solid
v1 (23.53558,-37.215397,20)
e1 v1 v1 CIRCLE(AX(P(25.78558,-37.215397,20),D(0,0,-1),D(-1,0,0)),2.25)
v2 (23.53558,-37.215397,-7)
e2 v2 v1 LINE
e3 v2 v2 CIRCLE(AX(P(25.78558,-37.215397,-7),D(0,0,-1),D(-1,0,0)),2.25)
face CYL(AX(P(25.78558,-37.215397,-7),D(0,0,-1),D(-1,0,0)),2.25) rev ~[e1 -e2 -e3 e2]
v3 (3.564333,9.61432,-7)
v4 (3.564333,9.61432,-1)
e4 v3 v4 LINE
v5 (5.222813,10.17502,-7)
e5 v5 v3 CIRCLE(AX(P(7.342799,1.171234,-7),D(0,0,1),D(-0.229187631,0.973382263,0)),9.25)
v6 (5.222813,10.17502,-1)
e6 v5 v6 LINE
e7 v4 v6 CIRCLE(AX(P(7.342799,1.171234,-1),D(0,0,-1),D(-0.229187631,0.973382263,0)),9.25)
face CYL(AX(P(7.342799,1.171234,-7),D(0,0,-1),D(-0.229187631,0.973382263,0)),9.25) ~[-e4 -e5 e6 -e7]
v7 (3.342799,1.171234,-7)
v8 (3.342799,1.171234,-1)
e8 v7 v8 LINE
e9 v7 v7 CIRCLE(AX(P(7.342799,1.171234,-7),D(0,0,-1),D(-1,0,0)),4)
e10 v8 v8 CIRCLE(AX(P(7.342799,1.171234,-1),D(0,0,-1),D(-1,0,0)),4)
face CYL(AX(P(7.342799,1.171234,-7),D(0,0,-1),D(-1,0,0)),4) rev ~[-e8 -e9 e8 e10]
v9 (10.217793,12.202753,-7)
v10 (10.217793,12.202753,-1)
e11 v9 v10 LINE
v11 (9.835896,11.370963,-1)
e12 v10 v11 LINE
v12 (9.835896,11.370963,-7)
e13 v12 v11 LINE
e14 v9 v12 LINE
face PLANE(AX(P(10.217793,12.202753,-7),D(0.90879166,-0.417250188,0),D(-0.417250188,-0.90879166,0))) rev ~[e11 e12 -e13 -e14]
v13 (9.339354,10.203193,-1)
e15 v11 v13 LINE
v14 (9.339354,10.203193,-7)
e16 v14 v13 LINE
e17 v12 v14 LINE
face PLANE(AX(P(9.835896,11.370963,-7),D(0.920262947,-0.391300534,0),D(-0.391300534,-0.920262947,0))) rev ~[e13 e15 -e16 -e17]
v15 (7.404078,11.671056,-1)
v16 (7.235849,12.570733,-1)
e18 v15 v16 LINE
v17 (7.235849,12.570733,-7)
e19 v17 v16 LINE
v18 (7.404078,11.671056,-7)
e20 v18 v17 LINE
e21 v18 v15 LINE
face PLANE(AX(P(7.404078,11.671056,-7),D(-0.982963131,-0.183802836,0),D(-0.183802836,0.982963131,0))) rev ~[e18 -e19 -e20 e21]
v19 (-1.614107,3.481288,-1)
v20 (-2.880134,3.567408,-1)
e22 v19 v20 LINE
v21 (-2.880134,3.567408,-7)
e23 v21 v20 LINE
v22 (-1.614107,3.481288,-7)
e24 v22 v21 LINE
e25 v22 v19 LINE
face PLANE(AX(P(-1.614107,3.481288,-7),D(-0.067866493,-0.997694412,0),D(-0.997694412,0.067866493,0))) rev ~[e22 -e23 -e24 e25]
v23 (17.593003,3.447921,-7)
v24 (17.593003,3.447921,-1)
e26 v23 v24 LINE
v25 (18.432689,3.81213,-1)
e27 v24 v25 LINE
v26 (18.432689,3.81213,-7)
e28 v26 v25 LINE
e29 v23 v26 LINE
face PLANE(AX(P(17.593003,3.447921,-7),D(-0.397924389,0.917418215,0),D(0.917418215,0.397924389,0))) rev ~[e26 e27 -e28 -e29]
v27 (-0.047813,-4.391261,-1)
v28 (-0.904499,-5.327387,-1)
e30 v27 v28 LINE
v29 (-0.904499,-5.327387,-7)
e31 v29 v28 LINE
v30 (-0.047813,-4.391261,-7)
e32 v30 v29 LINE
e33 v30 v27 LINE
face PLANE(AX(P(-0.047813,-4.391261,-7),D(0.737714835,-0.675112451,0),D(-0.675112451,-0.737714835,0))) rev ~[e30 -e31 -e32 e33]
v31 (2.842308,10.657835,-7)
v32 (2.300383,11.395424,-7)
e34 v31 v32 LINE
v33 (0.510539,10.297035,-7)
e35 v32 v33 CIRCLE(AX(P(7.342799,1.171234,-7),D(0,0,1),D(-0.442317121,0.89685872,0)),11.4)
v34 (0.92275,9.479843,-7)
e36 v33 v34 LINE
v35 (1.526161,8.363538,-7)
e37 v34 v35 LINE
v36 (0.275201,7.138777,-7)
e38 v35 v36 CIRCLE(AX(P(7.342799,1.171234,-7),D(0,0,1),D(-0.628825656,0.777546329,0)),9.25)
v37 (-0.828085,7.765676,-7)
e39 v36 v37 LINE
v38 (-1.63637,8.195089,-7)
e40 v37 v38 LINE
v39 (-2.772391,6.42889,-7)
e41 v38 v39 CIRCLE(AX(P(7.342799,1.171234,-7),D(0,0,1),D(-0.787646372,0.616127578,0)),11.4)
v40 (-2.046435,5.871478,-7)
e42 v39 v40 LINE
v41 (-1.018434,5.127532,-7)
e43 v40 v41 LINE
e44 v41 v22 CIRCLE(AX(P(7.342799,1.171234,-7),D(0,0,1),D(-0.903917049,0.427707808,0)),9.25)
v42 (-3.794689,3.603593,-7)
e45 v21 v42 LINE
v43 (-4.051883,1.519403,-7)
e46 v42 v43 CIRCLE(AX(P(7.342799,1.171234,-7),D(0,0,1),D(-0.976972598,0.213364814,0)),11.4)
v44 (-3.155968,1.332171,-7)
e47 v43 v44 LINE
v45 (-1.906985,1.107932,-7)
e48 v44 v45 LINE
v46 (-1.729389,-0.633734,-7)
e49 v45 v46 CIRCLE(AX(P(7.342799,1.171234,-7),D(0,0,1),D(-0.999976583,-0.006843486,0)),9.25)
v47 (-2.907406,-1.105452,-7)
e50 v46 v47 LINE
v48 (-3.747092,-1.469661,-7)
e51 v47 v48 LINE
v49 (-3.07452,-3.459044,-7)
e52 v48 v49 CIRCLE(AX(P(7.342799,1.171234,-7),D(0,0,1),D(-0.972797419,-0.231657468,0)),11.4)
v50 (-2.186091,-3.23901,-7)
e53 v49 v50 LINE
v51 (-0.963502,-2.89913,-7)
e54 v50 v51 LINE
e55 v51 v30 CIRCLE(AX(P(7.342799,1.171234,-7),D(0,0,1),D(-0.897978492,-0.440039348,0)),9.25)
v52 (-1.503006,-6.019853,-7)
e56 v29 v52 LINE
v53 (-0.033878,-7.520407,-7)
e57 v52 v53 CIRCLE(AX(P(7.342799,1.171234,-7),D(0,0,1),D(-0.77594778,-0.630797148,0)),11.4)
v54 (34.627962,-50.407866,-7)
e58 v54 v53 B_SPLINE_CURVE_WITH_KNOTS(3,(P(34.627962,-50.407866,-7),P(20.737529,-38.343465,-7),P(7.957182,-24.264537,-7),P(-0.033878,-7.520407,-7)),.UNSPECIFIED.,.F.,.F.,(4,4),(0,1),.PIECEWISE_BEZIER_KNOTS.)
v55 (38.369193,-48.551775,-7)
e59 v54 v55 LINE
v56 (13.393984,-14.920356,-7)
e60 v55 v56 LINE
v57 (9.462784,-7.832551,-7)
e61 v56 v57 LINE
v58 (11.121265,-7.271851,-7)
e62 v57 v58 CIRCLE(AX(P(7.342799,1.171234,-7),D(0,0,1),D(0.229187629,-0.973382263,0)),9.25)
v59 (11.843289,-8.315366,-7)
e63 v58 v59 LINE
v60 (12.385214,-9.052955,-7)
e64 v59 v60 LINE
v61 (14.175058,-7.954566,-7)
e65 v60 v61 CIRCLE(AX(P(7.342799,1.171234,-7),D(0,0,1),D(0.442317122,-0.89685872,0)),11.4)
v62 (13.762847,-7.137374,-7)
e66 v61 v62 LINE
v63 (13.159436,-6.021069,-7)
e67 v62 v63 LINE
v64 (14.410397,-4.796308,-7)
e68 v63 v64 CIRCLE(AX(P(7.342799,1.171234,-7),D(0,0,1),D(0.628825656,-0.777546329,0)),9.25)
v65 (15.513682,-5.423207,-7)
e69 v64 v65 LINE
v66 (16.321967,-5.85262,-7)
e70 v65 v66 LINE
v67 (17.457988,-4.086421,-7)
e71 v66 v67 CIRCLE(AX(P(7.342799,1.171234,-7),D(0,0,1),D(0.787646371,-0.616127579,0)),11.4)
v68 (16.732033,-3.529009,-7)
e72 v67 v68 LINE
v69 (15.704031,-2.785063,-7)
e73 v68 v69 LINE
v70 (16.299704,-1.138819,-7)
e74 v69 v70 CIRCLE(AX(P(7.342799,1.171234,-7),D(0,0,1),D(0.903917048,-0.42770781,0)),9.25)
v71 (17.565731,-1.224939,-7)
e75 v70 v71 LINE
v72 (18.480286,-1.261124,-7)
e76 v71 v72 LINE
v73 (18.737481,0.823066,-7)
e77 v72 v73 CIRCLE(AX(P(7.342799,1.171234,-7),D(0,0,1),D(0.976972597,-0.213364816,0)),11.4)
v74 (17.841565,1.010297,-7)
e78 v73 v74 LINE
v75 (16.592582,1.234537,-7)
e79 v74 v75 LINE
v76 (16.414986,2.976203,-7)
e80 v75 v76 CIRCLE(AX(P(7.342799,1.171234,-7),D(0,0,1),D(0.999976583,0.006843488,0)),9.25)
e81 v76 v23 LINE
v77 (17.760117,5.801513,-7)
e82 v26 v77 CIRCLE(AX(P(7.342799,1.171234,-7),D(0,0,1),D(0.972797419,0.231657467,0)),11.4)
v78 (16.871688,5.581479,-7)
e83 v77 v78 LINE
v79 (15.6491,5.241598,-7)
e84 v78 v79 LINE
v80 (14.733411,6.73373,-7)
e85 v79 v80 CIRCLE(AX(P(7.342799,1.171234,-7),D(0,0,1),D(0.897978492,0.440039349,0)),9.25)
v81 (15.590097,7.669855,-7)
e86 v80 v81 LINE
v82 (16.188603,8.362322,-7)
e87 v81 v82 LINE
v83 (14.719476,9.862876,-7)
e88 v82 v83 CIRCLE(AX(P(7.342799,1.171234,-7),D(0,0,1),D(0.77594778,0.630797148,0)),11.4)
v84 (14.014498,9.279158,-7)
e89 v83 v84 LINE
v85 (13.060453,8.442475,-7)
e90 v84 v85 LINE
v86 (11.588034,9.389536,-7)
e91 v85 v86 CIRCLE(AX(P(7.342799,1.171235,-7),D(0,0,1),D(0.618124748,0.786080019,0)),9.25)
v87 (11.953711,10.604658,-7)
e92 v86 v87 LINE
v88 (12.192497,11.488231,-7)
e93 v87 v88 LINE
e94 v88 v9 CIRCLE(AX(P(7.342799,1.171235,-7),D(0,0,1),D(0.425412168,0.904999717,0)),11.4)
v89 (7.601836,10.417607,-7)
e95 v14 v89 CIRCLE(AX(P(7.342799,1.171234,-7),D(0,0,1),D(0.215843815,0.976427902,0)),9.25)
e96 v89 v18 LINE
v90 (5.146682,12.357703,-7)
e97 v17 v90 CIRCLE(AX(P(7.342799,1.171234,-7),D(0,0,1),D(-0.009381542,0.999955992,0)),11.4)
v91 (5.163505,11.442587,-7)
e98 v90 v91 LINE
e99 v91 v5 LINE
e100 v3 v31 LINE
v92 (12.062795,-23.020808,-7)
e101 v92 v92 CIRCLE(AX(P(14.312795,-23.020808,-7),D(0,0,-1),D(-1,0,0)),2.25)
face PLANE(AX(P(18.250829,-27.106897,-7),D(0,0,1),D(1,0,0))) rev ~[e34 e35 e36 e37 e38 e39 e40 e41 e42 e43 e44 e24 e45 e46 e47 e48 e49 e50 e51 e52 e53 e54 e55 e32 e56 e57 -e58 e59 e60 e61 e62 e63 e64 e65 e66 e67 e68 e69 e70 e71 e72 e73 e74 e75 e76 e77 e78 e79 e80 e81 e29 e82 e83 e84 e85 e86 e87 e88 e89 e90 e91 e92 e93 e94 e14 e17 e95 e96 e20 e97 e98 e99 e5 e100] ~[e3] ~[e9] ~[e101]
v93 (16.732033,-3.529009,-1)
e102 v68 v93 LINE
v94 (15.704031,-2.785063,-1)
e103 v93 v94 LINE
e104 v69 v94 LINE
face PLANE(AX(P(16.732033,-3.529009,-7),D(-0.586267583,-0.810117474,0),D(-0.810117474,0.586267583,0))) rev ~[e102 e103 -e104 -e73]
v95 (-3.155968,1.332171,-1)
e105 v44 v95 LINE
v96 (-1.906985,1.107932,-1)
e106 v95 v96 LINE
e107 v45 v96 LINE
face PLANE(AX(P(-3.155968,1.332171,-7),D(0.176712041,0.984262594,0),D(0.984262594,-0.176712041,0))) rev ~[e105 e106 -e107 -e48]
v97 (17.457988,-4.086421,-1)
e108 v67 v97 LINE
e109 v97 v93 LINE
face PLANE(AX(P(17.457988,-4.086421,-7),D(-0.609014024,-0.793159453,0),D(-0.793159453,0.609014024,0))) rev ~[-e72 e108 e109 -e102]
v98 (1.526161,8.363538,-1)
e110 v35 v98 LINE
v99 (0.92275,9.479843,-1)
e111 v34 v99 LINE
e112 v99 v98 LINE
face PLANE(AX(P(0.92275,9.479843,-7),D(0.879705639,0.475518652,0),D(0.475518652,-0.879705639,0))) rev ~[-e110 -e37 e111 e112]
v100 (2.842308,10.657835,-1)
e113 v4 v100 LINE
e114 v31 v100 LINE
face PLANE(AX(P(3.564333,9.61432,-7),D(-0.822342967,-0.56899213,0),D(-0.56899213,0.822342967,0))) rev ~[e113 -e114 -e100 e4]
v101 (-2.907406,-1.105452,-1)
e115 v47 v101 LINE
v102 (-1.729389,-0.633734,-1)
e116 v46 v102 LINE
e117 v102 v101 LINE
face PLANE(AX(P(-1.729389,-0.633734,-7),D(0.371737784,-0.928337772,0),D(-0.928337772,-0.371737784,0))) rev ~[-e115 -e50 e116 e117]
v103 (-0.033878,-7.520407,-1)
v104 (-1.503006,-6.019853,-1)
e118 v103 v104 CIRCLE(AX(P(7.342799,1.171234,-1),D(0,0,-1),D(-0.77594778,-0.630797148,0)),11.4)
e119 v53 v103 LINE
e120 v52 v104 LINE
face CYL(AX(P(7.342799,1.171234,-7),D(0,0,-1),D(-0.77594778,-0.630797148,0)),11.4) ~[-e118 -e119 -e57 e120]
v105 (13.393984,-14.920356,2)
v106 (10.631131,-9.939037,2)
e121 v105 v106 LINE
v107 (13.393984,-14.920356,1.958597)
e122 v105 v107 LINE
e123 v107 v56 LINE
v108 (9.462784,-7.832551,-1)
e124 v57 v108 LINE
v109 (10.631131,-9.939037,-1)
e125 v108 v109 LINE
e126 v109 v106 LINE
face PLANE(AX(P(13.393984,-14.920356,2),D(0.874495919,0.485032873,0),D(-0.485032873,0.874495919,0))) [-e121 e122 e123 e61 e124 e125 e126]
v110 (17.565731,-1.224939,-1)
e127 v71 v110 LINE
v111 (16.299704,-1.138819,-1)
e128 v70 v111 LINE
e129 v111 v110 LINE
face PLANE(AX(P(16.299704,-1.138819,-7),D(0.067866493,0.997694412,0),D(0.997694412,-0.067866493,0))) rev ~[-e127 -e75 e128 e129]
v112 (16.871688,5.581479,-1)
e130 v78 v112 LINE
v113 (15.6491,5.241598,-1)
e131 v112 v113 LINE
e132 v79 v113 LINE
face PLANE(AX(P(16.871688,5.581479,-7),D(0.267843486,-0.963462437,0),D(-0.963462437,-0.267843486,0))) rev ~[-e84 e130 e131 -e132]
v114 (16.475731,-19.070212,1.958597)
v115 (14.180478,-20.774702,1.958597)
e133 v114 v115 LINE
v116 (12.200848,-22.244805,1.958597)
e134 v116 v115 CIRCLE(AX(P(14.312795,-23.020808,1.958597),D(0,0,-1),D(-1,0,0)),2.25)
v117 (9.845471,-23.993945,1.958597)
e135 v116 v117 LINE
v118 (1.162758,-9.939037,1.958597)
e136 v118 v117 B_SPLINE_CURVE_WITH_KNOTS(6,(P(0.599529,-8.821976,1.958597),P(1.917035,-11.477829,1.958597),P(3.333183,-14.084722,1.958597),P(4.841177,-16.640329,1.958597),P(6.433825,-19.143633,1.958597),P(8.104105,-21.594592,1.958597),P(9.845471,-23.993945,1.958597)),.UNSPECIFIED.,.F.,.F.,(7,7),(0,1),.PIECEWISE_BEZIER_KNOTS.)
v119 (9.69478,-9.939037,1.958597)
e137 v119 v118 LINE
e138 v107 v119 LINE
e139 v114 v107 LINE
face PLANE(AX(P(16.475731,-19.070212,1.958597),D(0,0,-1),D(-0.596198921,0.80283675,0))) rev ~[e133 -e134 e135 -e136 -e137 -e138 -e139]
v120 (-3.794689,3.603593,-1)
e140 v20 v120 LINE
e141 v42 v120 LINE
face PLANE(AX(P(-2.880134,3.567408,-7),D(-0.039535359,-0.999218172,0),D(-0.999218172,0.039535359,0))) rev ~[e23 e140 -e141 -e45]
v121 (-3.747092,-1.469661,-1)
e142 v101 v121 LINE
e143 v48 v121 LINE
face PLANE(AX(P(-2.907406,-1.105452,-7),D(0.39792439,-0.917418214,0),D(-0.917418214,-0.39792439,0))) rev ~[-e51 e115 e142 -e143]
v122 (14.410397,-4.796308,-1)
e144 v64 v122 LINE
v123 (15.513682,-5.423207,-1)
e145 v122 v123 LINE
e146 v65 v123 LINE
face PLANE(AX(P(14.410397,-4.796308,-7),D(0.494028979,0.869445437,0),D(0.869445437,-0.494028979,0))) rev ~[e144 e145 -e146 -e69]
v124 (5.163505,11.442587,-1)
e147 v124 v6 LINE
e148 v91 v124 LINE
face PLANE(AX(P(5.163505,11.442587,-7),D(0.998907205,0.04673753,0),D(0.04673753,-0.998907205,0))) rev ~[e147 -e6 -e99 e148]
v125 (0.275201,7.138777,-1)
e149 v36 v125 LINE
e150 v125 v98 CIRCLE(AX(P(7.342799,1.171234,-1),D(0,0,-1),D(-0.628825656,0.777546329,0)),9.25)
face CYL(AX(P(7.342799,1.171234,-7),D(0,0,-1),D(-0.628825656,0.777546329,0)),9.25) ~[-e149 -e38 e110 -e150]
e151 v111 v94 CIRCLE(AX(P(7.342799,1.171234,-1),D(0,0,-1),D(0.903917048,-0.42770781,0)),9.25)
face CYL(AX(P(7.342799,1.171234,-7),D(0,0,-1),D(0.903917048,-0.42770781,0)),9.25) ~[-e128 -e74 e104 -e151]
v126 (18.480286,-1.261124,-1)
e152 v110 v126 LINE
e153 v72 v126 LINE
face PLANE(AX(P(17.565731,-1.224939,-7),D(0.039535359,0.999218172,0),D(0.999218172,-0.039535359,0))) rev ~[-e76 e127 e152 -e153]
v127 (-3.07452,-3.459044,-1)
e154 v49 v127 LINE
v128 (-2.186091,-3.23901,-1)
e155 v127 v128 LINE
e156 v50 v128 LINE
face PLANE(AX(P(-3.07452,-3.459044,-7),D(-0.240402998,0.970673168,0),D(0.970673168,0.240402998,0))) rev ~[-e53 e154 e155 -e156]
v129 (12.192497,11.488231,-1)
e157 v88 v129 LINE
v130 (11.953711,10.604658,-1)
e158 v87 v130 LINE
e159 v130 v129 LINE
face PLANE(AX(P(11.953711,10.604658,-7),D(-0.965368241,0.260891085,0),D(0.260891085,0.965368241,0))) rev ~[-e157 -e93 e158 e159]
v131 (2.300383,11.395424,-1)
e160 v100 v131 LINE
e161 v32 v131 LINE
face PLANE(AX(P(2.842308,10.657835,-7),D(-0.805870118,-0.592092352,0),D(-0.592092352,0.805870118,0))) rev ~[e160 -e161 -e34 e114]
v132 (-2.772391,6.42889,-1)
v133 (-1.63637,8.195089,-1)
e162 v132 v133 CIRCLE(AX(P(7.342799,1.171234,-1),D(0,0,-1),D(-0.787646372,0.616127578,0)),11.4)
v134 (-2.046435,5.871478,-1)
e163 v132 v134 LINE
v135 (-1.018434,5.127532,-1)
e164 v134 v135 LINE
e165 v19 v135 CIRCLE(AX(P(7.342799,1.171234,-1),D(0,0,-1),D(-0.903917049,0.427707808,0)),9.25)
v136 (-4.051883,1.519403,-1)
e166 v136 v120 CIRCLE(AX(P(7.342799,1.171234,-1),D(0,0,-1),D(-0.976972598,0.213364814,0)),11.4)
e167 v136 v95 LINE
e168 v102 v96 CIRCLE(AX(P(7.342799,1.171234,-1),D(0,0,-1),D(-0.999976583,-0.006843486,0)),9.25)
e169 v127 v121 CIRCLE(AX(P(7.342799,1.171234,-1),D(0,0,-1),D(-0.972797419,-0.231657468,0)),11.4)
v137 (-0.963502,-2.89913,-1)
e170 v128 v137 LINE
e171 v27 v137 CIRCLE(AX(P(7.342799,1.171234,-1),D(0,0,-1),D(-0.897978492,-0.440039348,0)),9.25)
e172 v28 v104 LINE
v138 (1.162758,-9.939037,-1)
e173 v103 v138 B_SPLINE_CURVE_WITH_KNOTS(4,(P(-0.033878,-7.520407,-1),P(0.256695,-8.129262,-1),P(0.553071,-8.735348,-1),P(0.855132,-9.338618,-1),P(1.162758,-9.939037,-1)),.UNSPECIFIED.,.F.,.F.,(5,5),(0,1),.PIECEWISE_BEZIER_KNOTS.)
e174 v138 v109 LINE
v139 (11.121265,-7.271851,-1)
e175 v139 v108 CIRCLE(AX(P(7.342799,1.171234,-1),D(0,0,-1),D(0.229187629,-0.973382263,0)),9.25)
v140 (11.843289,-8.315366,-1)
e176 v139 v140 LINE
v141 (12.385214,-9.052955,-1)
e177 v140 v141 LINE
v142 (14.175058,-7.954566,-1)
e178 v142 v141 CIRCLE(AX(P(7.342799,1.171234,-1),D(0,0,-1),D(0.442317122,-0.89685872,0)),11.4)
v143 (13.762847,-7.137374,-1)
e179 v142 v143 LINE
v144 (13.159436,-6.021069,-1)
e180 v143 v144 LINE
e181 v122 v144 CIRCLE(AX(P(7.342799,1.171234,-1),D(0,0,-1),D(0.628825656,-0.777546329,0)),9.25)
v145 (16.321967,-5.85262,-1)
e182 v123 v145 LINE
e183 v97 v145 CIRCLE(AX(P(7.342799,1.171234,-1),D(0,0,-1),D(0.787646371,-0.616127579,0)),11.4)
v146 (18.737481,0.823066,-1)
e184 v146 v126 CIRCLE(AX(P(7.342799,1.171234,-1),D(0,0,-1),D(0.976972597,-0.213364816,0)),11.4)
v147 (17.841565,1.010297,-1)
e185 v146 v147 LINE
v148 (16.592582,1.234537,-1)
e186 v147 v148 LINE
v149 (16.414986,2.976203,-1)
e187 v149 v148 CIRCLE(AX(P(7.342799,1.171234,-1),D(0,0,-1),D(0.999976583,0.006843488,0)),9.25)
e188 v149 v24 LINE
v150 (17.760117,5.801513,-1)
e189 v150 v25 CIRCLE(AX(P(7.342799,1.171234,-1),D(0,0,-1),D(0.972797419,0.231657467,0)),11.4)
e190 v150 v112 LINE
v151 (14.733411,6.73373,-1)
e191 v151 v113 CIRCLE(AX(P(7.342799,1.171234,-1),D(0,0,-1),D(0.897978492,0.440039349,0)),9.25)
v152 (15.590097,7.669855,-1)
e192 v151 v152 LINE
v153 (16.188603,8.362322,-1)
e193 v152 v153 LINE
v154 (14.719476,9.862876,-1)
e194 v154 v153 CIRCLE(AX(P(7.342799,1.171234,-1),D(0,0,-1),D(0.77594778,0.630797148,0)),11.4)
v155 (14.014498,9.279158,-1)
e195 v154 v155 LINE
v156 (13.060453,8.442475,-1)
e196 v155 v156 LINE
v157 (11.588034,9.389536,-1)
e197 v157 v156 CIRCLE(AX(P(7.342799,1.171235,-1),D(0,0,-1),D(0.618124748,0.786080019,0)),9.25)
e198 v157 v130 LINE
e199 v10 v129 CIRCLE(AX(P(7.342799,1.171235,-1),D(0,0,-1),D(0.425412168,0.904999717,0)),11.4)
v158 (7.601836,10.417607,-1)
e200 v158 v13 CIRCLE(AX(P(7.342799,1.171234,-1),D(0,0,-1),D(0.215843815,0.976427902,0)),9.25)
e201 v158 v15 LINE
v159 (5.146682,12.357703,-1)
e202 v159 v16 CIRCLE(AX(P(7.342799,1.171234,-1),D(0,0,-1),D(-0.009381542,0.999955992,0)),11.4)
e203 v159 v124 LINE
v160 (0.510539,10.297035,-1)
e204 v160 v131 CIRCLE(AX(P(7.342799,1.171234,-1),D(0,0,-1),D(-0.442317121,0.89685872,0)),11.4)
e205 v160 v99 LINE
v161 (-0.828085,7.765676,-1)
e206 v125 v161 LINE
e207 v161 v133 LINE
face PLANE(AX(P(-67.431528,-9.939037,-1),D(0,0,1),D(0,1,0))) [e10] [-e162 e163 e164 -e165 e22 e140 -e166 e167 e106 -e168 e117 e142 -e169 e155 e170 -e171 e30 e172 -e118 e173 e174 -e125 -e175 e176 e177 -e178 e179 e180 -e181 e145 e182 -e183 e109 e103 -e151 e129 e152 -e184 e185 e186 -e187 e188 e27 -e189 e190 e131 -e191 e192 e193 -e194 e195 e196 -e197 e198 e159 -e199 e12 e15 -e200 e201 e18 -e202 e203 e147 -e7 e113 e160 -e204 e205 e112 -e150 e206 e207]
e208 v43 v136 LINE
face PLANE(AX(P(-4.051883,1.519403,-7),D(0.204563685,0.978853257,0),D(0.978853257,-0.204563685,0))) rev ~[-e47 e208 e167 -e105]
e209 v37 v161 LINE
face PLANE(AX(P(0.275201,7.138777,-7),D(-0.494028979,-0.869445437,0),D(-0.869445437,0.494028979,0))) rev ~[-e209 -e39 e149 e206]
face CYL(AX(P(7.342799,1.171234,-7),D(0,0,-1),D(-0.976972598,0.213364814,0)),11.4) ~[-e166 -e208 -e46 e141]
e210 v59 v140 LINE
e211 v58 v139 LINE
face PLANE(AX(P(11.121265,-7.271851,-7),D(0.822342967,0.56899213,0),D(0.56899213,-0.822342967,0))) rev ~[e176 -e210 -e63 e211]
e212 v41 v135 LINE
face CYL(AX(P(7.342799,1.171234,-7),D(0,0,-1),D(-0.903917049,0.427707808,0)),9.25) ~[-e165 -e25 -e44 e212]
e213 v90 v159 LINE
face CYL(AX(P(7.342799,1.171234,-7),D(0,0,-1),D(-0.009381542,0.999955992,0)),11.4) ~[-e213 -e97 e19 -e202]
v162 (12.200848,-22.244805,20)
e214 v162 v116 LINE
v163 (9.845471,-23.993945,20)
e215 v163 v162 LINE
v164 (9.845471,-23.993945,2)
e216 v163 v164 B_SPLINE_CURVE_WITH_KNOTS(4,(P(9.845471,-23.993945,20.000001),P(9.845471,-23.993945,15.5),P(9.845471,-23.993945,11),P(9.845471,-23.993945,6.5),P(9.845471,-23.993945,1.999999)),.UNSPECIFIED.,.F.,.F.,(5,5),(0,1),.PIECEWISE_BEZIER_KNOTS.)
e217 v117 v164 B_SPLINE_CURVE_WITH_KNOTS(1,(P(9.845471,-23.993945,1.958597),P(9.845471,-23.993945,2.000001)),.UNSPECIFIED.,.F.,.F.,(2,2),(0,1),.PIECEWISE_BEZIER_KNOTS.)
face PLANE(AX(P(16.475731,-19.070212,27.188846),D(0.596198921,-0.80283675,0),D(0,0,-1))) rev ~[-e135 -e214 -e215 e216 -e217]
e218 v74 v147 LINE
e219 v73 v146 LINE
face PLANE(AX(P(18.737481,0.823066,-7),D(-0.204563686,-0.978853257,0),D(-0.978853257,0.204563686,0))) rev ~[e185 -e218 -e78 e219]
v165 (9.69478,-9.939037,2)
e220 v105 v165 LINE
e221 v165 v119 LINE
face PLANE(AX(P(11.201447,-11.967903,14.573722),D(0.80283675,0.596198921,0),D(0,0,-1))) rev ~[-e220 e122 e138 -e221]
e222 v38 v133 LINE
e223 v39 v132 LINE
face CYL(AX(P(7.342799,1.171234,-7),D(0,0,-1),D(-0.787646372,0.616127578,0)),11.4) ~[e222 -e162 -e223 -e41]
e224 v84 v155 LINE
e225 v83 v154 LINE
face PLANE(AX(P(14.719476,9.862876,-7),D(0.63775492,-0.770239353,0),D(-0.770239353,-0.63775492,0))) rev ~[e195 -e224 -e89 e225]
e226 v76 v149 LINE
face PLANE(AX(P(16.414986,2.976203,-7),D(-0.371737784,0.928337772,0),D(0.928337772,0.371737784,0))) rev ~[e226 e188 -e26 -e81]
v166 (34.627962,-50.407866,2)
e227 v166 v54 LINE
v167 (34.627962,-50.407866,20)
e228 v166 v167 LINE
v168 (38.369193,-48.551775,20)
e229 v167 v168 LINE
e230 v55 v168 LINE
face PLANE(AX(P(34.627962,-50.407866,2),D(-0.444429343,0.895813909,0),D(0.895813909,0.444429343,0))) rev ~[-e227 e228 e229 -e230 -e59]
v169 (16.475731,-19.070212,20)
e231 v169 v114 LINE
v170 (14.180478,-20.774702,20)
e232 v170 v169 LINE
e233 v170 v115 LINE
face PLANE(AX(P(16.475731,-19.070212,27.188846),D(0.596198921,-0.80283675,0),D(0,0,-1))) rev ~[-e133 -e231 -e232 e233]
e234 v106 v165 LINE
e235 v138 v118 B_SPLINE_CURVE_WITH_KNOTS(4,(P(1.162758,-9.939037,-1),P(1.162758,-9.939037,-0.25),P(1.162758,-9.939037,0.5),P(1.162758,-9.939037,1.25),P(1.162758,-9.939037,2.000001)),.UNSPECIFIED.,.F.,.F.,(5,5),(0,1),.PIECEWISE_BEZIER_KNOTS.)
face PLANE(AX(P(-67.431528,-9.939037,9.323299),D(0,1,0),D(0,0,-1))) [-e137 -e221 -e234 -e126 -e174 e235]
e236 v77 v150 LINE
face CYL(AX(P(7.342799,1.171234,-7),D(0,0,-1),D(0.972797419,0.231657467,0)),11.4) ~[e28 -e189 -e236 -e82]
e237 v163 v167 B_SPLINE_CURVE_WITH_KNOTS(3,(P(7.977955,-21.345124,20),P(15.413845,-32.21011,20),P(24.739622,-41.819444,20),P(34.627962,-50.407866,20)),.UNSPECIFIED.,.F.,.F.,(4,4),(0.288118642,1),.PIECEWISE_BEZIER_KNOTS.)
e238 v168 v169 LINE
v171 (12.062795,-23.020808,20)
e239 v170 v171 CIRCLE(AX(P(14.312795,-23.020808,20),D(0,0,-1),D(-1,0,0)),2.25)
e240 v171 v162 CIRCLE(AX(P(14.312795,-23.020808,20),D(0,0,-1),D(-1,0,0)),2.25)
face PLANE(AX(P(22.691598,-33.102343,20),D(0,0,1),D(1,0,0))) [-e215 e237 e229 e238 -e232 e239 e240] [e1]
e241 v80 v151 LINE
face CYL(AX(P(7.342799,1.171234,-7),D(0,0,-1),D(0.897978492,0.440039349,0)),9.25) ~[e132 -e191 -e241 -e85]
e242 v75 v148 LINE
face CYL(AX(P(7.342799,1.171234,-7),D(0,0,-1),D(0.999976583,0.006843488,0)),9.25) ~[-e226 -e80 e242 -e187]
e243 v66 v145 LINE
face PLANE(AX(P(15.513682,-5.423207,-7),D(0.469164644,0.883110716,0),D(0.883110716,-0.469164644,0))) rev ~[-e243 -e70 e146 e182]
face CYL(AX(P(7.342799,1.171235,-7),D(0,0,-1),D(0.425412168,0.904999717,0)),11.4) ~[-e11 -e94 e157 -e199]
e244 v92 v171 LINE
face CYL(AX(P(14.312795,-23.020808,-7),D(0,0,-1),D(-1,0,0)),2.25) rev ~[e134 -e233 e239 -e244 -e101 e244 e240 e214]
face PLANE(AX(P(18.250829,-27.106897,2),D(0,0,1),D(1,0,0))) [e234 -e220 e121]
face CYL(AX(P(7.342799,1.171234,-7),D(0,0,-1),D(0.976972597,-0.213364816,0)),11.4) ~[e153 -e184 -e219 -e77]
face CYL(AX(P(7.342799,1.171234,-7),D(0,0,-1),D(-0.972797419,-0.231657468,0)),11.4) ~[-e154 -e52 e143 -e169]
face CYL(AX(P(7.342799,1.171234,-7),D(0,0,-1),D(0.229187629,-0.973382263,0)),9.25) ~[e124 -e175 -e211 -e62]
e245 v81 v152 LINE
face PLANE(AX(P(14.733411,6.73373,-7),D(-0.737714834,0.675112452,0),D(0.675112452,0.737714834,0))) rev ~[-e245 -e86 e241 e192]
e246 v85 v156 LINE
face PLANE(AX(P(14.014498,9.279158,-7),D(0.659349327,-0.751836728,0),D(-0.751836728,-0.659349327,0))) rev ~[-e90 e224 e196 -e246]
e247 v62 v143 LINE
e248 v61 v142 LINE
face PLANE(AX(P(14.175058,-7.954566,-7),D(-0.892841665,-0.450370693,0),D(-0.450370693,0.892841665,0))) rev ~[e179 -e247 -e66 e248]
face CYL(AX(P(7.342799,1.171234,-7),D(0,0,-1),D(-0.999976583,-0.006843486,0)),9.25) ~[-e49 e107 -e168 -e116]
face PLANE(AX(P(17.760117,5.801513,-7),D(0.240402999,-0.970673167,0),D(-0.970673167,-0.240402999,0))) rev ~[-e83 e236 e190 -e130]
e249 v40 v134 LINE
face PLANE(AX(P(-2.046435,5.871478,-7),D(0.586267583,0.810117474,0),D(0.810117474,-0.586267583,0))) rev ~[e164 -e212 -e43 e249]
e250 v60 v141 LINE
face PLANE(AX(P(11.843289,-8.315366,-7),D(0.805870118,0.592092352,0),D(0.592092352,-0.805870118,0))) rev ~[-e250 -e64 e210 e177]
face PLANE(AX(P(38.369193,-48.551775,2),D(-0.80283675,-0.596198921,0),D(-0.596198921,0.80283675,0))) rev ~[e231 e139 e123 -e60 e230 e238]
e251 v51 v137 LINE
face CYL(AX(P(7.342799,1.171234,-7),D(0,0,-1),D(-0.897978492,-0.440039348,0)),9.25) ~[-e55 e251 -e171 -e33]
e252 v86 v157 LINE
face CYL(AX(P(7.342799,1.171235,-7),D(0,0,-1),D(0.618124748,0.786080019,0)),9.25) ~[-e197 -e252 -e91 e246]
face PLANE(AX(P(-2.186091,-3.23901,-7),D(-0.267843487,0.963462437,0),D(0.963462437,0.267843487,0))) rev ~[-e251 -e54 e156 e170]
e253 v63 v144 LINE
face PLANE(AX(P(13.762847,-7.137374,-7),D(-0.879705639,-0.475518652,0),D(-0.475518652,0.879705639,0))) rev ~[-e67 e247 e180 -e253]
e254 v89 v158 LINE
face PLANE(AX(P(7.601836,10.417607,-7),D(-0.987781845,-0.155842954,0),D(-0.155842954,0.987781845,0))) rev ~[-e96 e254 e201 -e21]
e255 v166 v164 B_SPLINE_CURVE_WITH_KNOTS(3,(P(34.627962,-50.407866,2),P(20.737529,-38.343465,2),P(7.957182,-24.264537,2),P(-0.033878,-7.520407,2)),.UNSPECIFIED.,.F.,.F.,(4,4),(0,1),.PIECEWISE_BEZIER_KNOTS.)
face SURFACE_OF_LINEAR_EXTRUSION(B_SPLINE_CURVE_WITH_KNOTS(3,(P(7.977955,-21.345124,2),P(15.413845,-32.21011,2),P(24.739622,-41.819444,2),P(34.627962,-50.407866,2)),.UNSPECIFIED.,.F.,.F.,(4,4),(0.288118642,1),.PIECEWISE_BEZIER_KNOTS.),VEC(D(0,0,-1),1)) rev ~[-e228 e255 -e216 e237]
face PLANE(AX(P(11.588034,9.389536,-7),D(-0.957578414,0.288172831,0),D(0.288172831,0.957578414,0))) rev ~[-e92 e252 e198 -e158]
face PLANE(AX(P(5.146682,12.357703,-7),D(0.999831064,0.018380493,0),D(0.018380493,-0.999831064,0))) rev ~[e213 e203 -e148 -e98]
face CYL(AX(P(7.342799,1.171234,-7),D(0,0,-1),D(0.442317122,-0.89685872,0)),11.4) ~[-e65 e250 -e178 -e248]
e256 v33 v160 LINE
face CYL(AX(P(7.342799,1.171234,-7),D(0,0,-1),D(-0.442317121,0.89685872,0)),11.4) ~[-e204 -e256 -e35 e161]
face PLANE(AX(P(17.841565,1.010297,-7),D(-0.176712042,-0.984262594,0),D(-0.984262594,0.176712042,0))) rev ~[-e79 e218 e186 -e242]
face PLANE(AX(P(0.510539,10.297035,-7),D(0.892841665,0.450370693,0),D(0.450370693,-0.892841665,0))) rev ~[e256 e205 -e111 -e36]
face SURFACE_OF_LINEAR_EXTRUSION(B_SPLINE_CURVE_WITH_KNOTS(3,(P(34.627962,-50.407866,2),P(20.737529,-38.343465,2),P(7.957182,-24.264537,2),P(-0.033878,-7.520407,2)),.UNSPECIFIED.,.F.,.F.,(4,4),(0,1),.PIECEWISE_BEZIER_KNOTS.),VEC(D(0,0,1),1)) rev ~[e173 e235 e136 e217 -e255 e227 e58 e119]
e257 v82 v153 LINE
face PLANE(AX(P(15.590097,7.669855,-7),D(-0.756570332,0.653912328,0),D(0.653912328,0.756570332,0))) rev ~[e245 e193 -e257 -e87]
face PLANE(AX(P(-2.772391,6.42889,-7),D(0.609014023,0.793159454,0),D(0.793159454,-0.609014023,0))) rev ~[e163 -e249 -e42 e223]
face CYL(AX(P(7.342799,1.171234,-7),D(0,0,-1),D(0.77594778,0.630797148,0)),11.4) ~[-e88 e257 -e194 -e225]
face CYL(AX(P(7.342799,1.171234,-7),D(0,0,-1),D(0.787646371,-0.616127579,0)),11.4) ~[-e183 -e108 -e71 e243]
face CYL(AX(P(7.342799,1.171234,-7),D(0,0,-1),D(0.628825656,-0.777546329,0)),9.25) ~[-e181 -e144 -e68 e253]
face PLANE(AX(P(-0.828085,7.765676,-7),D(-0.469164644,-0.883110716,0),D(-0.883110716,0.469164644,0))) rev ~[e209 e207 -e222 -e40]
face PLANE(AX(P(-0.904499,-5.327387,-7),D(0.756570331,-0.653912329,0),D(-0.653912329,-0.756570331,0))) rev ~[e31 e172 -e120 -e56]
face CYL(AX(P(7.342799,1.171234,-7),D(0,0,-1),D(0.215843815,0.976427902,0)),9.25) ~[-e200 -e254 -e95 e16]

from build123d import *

# Parameters (mm, degrees)
BOSS_EXTRUDE1_DEPTH      = 2
BOSS_EXTRUDE1_DEPTH_BACK = 7
BOSS_EXTRUDE3_DEPTH      = 9
SKETCH6_R                = 4
CUT_EXTRUDE1_DEPTH       = 18
BOSS_EXTRUDE4_DEPTH      = 18
SKETCH8_R                = 2.25
CUT_EXTRUDE2_DEPTH       = 69.863255609
CUT_EXTRUDE3_DEPTH       = 67.431528446
CUT_EXTRUDE3_DEPTH_BACK  = 67.431528446
SKETCH9_W                = 10.323299019
SKETCH9_H                = 27.481333942
SKETCH10_W               = 25.230248524
SKETCH10_H               = 17.693033904
CUT_EXTRUDE4_DEPTH       = 67.436499079


with BuildPart() as part:
    # Sketch2 → Boss-Extrude1 (new, two sides: drawn at the far end of the back side and taken through both)
    with BuildSketch(Plane.XY.offset(-BOSS_EXTRUDE1_DEPTH_BACK)):
        with BuildLine():
            Line((17.593003447, 3.447921134), (18.432689254, 3.812129579))
            ThreePointArc((18.432689254, 3.812129579), (18.142308848, 4.822341152), (17.760116965, 5.801513031))
            Line((17.760116965, 5.801513031), (16.871688472, 5.581479263))
            Line((16.871688472, 5.581479263), (15.649099733, 5.241598415))
            ThreePointArc((15.649099733, 5.241598415), (15.22663553, 6.009376293), (14.733410626, 6.733729845))
            Line((14.733410626, 6.733729845), (15.590096731, 7.669855443))
            Line((15.590096731, 7.669855443), (16.188603379, 8.362321932))
            ThreePointArc((16.188603379, 8.362321932), (15.488665299, 9.146499772), (14.719475556, 9.862876308))
            Line((14.719475556, 9.862876308), (14.014498216, 9.279158058))
            Line((14.014498216, 9.279158058), (13.060452596, 8.442474621))
            ThreePointArc((13.060452596, 8.442474621), (12.346699165, 8.950918239), (11.588033655, 9.389535972))
            Line((11.588033655, 9.389535972), (11.95371149, 10.604658163))
            Line((11.95371149, 10.604658163), (12.192497398, 11.488231214))
            ThreePointArc((12.192497398, 11.488231214), (11.221632964, 11.891059284), (10.217792822, 12.202753318))
            Line((10.217792822, 12.202753318), (9.835896044, 11.370963143))
            Line((9.835896044, 11.370963143), (9.33935398, 10.203192533))
            ThreePointArc((9.33935398, 10.203192533), (8.475678941, 10.351598396), (7.601835833, 10.417606691))
            Line((7.601835833, 10.417606691), (7.404078418, 11.671055622))
            Line((7.404078418, 11.671055622), (7.235849109, 12.570732756))
            ThreePointArc((7.235849109, 12.570732756), (6.18634993, 12.512426015), (5.14668224, 12.357702722))
            Line((5.14668224, 12.357702722), (5.163505363, 11.442586867))
            Line((5.163505363, 11.442586867), (5.222813101, 10.175020376))
            ThreePointArc((5.222813101, 10.175020376), (4.380277888, 9.933994883), (3.564332526, 9.614319987))
            Line((3.564332526, 9.614319987), (2.842308143, 10.657834724))
            Line((2.842308143, 10.657834724), (2.300383494, 11.395423851))
            ThreePointArc((2.300383494, 11.395423851), (1.380115753, 10.887530665), (0.510539453, 10.297034891))
            Line((0.510539453, 10.297034891), (0.922750452, 9.479843274))
            Line((0.922750452, 9.479843274), (1.526161366, 8.363537991))
            ThreePointArc((1.526161366, 8.363537991), (0.871640411, 7.780819197), (0.275200782, 7.138776643))
            Line((0.275200782, 7.138776643), (-0.828084785, 7.765676295))
            Line((-0.828084785, 7.765676295), (-1.636369952, 8.195088843))
            ThreePointArc((-1.636369952, 8.195088843), (-2.245135941, 7.338203686), (-2.772390602, 6.42889036))
            Line((-2.772390602, 6.42889036), (-2.04643517, 5.871477804))
            Line((-2.04643517, 5.871477804), (-1.018434012, 5.12753168))
            ThreePointArc((-1.018434012, 5.12753168), (-1.355304806, 4.318534189), (-1.61410652, 3.481288379))
            Line((-1.61410652, 3.481288379), (-2.880134034, 3.567407782))
            Line((-2.880134034, 3.567407782), (-3.794688927, 3.603593329))
            ThreePointArc((-3.794688927, 3.603593329), (-3.971379595, 2.567432815), (-4.051883364, 1.519402593))
            Line((-4.051883364, 1.519402593), (-3.155967876, 1.332171491))
            Line((-3.155967876, 1.332171491), (-1.90698471, 1.107932181))
            ThreePointArc((-1.90698471, 1.107932181), (-1.859483953, 0.232887867), (-1.729388897, -0.633734398))
            Line((-1.729388897, -0.633734398), (-2.907406081, -1.105452248))
            Line((-2.907406081, -1.105452248), (-3.747091888, -1.469660694))
            ThreePointArc((-3.747091888, -1.469660694), (-3.456711482, -2.479872267), (-3.0745196, -3.459044145))
            Line((-3.0745196, -3.459044145), (-2.186091107, -3.239010378))
            Line((-2.186091107, -3.239010378), (-0.963502367, -2.899129529))
            ThreePointArc((-0.963502367, -2.899129529), (-0.541038164, -3.666907408), (-0.047813261, -4.391260959))
            Line((-0.047813261, -4.391260959), (-0.904499365, -5.327386558))
            Line((-0.904499365, -5.327386558), (-1.503006014, -6.019853046))
            ThreePointArc((-1.503006014, -6.019853046), (-0.803067933, -6.804030887), (-0.03387819, -7.520407423))
            Line((-0.03387819, -7.520407423), (0.67109915, -6.936689172))
            Line((0.67109915, -6.936689172), (1.625144769, -6.100005735))
            ThreePointArc((1.625144769, -6.100005735), (2.3388982, -6.608449353), (3.097563711, -7.047067087))
            Line((3.097563711, -7.047067087), (2.731885876, -8.262189278))
            Line((2.731885876, -8.262189278), (2.493099968, -9.145762328))
            ThreePointArc((2.493099968, -9.145762328), (3.463964401, -9.548590398), (4.467804544, -9.860284433))
            Line((4.467804544, -9.860284433), (4.849701322, -9.028494257))
            Line((4.849701322, -9.028494257), (5.346243386, -7.860723648))
            ThreePointArc((5.346243386, -7.860723648), (6.209918425, -8.009129511), (7.083761533, -8.075137806))
            Line((7.083761533, -8.075137806), (7.281518948, -9.328586736))
            Line((7.281518948, -9.328586736), (7.449748257, -10.22826387))
            ThreePointArc((7.449748257, -10.22826387), (8.499247436, -10.16995713), (9.538915126, -10.015233837))
            Line((9.538915126, -10.015233837), (9.522092003, -9.100117982))
            Line((9.522092003, -9.100117982), (9.462784265, -7.83255149))
            ThreePointArc((9.462784265, -7.83255149), (10.305319478, -7.591525998), (11.12126484, -7.271851101))
            Line((11.12126484, -7.271851101), (11.843289223, -8.315365839))
            Line((11.843289223, -8.315365839), (12.385213872, -9.052954966))
            ThreePointArc((12.385213872, -9.052954966), (13.305481612, -8.54506178), (14.175057913, -7.954566005))
            Line((14.175057913, -7.954566005), (13.762846914, -7.137374389))
            Line((13.762846914, -7.137374389), (13.159436, -6.021069105))
            ThreePointArc((13.159436, -6.021069105), (13.813956955, -5.438350311), (14.410396584, -4.796307757))
            Line((14.410396584, -4.796307757), (15.513682151, -5.42320741))
            Line((15.513682151, -5.42320741), (16.321967317, -5.852619957))
            ThreePointArc((16.321967317, -5.852619957), (16.930733307, -4.9957348), (17.457987967, -4.086421474))
            Line((17.457987967, -4.086421474), (16.732032536, -3.529008918))
            Line((16.732032536, -3.529008918), (15.704031377, -2.785062794))
            ThreePointArc((15.704031377, -2.785062794), (16.040902172, -1.976065303), (16.299703886, -1.138819493))
            Line((16.299703886, -1.138819493), (17.565731399, -1.224938896))
            Line((17.565731399, -1.224938896), (18.480286292, -1.261124443))
            ThreePointArc((18.480286292, -1.261124443), (18.656976961, -0.22496393), (18.737480729, 0.823066292))
            Line((18.737480729, 0.823066292), (17.841565242, 1.010297394))
            Line((17.841565242, 1.010297394), (16.592582076, 1.234536705))
            ThreePointArc((16.592582076, 1.234536705), (16.545081318, 2.109581019), (16.414986263, 2.976203284))
            Line((16.414986263, 2.976203284), (17.593003447, 3.447921134))
        make_face()
    extrude(amount=BOSS_EXTRUDE1_DEPTH + BOSS_EXTRUDE1_DEPTH_BACK)

    # Sketch5 → Boss-Extrude3 (add)
    with BuildSketch(Plane.XY.offset(2)):
        with BuildLine():
            Line((34.627961915, -50.407866333), (38.369192873, -48.55177457))
            Line((38.369192873, -48.55177457), (13.393984011, -14.920355903))
            Line((13.393984011, -14.920355903), (9.462784265, -7.83255149))
            Line((9.462784265, -7.83255149), (0.865656202, -2.843190202))
            Line((0.865656202, -2.843190202), (-0.03387819, -7.520407423))
            add(Edge.make_bspline(
                [(34.627961915, -50.407866333), (20.737528927, -38.343464696), (7.957182105, -24.264537371), (-0.03387819, -7.520407423)],
                knots=[0, 0, 0, 0, 1, 1, 1, 1], degree=3))
        make_face()
    extrude(amount=-BOSS_EXTRUDE3_DEPTH)

    # Sketch6 → Cut-Extrude1 (cut)
    with BuildSketch(Plane(origin=(0, 0, -7), x_dir=(-1, 0, 0), z_dir=(0, 0, -1))):
        with Locations((-7.342798683, 1.171234443)):
            Circle(SKETCH6_R)
    extrude(amount=-CUT_EXTRUDE1_DEPTH, mode=Mode.SUBTRACT)

    # Sketch7 → Boss-Extrude4 (add)
    with BuildSketch(Plane.XY.offset(2)):
        with BuildLine():
            Line((34.627961915, -50.407866333), (38.369192873, -48.55177457))
            Line((38.369192873, -48.55177457), (13.393984011, -14.920355903))
            add(Edge.make_bspline(
                [(7.977955023, -21.345123668), (8.112113434, -15.921271934), (13.393984011, -14.920355903)],
                knots=[0, 0, 0, 1, 1, 1], degree=2))
            add(Edge.make_bspline(
                [(7.977955023, -21.345123668), (15.413845314, -32.210109704), (24.739621619, -41.819443715), (34.627961915, -50.407866333)],
                knots=[0.288118642, 0.288118642, 0.288118642, 0.288118642, 1, 1, 1, 1], degree=3))
        make_face()
    extrude(amount=BOSS_EXTRUDE4_DEPTH)

    # Sketch8 → Cut-Extrude2 (cut, through all)
    with BuildSketch(Plane(origin=(0, 0, -7), x_dir=(-1, 0, 0), z_dir=(0, 0, -1))):
        with Locations((-14.312794722, -23.020807584)):
            Circle(SKETCH8_R)
        with Locations((-25.785580409, -37.215397344)):
            Circle(SKETCH8_R)
    extrude(amount=-CUT_EXTRUDE2_DEPTH, mode=Mode.SUBTRACT)

    # Sketch9 → Cut-Extrude3 (cut, two sides: drawn at the far end of the back side and taken through both)
    with BuildSketch(Plane(origin=(0, 0, 0), x_dir=(0, 0, -1), z_dir=(1, 0, 0)).offset(-CUT_EXTRUDE3_DEPTH_BACK)):
        with Locations((-4.16164951, 3.801629666)):
            Rectangle(SKETCH9_W, SKETCH9_H)
    extrude(amount=CUT_EXTRUDE3_DEPTH + CUT_EXTRUDE3_DEPTH_BACK, mode=Mode.SUBTRACT)

    # Sketch10 → Cut-Extrude4 (cut, through all)
    with BuildSketch(Plane(origin=(1.491415785, 1.107548305, 0), x_dir=(0, 0, -1), z_dir=(0.8028367498889462, 0.5961989206865052, 0))):
        with Locations((-14.573721534, -16.286562524)):
            Rectangle(SKETCH10_W, SKETCH10_H)
    extrude(amount=-CUT_EXTRUDE4_DEPTH, mode=Mode.SUBTRACT)


solid = part.part
